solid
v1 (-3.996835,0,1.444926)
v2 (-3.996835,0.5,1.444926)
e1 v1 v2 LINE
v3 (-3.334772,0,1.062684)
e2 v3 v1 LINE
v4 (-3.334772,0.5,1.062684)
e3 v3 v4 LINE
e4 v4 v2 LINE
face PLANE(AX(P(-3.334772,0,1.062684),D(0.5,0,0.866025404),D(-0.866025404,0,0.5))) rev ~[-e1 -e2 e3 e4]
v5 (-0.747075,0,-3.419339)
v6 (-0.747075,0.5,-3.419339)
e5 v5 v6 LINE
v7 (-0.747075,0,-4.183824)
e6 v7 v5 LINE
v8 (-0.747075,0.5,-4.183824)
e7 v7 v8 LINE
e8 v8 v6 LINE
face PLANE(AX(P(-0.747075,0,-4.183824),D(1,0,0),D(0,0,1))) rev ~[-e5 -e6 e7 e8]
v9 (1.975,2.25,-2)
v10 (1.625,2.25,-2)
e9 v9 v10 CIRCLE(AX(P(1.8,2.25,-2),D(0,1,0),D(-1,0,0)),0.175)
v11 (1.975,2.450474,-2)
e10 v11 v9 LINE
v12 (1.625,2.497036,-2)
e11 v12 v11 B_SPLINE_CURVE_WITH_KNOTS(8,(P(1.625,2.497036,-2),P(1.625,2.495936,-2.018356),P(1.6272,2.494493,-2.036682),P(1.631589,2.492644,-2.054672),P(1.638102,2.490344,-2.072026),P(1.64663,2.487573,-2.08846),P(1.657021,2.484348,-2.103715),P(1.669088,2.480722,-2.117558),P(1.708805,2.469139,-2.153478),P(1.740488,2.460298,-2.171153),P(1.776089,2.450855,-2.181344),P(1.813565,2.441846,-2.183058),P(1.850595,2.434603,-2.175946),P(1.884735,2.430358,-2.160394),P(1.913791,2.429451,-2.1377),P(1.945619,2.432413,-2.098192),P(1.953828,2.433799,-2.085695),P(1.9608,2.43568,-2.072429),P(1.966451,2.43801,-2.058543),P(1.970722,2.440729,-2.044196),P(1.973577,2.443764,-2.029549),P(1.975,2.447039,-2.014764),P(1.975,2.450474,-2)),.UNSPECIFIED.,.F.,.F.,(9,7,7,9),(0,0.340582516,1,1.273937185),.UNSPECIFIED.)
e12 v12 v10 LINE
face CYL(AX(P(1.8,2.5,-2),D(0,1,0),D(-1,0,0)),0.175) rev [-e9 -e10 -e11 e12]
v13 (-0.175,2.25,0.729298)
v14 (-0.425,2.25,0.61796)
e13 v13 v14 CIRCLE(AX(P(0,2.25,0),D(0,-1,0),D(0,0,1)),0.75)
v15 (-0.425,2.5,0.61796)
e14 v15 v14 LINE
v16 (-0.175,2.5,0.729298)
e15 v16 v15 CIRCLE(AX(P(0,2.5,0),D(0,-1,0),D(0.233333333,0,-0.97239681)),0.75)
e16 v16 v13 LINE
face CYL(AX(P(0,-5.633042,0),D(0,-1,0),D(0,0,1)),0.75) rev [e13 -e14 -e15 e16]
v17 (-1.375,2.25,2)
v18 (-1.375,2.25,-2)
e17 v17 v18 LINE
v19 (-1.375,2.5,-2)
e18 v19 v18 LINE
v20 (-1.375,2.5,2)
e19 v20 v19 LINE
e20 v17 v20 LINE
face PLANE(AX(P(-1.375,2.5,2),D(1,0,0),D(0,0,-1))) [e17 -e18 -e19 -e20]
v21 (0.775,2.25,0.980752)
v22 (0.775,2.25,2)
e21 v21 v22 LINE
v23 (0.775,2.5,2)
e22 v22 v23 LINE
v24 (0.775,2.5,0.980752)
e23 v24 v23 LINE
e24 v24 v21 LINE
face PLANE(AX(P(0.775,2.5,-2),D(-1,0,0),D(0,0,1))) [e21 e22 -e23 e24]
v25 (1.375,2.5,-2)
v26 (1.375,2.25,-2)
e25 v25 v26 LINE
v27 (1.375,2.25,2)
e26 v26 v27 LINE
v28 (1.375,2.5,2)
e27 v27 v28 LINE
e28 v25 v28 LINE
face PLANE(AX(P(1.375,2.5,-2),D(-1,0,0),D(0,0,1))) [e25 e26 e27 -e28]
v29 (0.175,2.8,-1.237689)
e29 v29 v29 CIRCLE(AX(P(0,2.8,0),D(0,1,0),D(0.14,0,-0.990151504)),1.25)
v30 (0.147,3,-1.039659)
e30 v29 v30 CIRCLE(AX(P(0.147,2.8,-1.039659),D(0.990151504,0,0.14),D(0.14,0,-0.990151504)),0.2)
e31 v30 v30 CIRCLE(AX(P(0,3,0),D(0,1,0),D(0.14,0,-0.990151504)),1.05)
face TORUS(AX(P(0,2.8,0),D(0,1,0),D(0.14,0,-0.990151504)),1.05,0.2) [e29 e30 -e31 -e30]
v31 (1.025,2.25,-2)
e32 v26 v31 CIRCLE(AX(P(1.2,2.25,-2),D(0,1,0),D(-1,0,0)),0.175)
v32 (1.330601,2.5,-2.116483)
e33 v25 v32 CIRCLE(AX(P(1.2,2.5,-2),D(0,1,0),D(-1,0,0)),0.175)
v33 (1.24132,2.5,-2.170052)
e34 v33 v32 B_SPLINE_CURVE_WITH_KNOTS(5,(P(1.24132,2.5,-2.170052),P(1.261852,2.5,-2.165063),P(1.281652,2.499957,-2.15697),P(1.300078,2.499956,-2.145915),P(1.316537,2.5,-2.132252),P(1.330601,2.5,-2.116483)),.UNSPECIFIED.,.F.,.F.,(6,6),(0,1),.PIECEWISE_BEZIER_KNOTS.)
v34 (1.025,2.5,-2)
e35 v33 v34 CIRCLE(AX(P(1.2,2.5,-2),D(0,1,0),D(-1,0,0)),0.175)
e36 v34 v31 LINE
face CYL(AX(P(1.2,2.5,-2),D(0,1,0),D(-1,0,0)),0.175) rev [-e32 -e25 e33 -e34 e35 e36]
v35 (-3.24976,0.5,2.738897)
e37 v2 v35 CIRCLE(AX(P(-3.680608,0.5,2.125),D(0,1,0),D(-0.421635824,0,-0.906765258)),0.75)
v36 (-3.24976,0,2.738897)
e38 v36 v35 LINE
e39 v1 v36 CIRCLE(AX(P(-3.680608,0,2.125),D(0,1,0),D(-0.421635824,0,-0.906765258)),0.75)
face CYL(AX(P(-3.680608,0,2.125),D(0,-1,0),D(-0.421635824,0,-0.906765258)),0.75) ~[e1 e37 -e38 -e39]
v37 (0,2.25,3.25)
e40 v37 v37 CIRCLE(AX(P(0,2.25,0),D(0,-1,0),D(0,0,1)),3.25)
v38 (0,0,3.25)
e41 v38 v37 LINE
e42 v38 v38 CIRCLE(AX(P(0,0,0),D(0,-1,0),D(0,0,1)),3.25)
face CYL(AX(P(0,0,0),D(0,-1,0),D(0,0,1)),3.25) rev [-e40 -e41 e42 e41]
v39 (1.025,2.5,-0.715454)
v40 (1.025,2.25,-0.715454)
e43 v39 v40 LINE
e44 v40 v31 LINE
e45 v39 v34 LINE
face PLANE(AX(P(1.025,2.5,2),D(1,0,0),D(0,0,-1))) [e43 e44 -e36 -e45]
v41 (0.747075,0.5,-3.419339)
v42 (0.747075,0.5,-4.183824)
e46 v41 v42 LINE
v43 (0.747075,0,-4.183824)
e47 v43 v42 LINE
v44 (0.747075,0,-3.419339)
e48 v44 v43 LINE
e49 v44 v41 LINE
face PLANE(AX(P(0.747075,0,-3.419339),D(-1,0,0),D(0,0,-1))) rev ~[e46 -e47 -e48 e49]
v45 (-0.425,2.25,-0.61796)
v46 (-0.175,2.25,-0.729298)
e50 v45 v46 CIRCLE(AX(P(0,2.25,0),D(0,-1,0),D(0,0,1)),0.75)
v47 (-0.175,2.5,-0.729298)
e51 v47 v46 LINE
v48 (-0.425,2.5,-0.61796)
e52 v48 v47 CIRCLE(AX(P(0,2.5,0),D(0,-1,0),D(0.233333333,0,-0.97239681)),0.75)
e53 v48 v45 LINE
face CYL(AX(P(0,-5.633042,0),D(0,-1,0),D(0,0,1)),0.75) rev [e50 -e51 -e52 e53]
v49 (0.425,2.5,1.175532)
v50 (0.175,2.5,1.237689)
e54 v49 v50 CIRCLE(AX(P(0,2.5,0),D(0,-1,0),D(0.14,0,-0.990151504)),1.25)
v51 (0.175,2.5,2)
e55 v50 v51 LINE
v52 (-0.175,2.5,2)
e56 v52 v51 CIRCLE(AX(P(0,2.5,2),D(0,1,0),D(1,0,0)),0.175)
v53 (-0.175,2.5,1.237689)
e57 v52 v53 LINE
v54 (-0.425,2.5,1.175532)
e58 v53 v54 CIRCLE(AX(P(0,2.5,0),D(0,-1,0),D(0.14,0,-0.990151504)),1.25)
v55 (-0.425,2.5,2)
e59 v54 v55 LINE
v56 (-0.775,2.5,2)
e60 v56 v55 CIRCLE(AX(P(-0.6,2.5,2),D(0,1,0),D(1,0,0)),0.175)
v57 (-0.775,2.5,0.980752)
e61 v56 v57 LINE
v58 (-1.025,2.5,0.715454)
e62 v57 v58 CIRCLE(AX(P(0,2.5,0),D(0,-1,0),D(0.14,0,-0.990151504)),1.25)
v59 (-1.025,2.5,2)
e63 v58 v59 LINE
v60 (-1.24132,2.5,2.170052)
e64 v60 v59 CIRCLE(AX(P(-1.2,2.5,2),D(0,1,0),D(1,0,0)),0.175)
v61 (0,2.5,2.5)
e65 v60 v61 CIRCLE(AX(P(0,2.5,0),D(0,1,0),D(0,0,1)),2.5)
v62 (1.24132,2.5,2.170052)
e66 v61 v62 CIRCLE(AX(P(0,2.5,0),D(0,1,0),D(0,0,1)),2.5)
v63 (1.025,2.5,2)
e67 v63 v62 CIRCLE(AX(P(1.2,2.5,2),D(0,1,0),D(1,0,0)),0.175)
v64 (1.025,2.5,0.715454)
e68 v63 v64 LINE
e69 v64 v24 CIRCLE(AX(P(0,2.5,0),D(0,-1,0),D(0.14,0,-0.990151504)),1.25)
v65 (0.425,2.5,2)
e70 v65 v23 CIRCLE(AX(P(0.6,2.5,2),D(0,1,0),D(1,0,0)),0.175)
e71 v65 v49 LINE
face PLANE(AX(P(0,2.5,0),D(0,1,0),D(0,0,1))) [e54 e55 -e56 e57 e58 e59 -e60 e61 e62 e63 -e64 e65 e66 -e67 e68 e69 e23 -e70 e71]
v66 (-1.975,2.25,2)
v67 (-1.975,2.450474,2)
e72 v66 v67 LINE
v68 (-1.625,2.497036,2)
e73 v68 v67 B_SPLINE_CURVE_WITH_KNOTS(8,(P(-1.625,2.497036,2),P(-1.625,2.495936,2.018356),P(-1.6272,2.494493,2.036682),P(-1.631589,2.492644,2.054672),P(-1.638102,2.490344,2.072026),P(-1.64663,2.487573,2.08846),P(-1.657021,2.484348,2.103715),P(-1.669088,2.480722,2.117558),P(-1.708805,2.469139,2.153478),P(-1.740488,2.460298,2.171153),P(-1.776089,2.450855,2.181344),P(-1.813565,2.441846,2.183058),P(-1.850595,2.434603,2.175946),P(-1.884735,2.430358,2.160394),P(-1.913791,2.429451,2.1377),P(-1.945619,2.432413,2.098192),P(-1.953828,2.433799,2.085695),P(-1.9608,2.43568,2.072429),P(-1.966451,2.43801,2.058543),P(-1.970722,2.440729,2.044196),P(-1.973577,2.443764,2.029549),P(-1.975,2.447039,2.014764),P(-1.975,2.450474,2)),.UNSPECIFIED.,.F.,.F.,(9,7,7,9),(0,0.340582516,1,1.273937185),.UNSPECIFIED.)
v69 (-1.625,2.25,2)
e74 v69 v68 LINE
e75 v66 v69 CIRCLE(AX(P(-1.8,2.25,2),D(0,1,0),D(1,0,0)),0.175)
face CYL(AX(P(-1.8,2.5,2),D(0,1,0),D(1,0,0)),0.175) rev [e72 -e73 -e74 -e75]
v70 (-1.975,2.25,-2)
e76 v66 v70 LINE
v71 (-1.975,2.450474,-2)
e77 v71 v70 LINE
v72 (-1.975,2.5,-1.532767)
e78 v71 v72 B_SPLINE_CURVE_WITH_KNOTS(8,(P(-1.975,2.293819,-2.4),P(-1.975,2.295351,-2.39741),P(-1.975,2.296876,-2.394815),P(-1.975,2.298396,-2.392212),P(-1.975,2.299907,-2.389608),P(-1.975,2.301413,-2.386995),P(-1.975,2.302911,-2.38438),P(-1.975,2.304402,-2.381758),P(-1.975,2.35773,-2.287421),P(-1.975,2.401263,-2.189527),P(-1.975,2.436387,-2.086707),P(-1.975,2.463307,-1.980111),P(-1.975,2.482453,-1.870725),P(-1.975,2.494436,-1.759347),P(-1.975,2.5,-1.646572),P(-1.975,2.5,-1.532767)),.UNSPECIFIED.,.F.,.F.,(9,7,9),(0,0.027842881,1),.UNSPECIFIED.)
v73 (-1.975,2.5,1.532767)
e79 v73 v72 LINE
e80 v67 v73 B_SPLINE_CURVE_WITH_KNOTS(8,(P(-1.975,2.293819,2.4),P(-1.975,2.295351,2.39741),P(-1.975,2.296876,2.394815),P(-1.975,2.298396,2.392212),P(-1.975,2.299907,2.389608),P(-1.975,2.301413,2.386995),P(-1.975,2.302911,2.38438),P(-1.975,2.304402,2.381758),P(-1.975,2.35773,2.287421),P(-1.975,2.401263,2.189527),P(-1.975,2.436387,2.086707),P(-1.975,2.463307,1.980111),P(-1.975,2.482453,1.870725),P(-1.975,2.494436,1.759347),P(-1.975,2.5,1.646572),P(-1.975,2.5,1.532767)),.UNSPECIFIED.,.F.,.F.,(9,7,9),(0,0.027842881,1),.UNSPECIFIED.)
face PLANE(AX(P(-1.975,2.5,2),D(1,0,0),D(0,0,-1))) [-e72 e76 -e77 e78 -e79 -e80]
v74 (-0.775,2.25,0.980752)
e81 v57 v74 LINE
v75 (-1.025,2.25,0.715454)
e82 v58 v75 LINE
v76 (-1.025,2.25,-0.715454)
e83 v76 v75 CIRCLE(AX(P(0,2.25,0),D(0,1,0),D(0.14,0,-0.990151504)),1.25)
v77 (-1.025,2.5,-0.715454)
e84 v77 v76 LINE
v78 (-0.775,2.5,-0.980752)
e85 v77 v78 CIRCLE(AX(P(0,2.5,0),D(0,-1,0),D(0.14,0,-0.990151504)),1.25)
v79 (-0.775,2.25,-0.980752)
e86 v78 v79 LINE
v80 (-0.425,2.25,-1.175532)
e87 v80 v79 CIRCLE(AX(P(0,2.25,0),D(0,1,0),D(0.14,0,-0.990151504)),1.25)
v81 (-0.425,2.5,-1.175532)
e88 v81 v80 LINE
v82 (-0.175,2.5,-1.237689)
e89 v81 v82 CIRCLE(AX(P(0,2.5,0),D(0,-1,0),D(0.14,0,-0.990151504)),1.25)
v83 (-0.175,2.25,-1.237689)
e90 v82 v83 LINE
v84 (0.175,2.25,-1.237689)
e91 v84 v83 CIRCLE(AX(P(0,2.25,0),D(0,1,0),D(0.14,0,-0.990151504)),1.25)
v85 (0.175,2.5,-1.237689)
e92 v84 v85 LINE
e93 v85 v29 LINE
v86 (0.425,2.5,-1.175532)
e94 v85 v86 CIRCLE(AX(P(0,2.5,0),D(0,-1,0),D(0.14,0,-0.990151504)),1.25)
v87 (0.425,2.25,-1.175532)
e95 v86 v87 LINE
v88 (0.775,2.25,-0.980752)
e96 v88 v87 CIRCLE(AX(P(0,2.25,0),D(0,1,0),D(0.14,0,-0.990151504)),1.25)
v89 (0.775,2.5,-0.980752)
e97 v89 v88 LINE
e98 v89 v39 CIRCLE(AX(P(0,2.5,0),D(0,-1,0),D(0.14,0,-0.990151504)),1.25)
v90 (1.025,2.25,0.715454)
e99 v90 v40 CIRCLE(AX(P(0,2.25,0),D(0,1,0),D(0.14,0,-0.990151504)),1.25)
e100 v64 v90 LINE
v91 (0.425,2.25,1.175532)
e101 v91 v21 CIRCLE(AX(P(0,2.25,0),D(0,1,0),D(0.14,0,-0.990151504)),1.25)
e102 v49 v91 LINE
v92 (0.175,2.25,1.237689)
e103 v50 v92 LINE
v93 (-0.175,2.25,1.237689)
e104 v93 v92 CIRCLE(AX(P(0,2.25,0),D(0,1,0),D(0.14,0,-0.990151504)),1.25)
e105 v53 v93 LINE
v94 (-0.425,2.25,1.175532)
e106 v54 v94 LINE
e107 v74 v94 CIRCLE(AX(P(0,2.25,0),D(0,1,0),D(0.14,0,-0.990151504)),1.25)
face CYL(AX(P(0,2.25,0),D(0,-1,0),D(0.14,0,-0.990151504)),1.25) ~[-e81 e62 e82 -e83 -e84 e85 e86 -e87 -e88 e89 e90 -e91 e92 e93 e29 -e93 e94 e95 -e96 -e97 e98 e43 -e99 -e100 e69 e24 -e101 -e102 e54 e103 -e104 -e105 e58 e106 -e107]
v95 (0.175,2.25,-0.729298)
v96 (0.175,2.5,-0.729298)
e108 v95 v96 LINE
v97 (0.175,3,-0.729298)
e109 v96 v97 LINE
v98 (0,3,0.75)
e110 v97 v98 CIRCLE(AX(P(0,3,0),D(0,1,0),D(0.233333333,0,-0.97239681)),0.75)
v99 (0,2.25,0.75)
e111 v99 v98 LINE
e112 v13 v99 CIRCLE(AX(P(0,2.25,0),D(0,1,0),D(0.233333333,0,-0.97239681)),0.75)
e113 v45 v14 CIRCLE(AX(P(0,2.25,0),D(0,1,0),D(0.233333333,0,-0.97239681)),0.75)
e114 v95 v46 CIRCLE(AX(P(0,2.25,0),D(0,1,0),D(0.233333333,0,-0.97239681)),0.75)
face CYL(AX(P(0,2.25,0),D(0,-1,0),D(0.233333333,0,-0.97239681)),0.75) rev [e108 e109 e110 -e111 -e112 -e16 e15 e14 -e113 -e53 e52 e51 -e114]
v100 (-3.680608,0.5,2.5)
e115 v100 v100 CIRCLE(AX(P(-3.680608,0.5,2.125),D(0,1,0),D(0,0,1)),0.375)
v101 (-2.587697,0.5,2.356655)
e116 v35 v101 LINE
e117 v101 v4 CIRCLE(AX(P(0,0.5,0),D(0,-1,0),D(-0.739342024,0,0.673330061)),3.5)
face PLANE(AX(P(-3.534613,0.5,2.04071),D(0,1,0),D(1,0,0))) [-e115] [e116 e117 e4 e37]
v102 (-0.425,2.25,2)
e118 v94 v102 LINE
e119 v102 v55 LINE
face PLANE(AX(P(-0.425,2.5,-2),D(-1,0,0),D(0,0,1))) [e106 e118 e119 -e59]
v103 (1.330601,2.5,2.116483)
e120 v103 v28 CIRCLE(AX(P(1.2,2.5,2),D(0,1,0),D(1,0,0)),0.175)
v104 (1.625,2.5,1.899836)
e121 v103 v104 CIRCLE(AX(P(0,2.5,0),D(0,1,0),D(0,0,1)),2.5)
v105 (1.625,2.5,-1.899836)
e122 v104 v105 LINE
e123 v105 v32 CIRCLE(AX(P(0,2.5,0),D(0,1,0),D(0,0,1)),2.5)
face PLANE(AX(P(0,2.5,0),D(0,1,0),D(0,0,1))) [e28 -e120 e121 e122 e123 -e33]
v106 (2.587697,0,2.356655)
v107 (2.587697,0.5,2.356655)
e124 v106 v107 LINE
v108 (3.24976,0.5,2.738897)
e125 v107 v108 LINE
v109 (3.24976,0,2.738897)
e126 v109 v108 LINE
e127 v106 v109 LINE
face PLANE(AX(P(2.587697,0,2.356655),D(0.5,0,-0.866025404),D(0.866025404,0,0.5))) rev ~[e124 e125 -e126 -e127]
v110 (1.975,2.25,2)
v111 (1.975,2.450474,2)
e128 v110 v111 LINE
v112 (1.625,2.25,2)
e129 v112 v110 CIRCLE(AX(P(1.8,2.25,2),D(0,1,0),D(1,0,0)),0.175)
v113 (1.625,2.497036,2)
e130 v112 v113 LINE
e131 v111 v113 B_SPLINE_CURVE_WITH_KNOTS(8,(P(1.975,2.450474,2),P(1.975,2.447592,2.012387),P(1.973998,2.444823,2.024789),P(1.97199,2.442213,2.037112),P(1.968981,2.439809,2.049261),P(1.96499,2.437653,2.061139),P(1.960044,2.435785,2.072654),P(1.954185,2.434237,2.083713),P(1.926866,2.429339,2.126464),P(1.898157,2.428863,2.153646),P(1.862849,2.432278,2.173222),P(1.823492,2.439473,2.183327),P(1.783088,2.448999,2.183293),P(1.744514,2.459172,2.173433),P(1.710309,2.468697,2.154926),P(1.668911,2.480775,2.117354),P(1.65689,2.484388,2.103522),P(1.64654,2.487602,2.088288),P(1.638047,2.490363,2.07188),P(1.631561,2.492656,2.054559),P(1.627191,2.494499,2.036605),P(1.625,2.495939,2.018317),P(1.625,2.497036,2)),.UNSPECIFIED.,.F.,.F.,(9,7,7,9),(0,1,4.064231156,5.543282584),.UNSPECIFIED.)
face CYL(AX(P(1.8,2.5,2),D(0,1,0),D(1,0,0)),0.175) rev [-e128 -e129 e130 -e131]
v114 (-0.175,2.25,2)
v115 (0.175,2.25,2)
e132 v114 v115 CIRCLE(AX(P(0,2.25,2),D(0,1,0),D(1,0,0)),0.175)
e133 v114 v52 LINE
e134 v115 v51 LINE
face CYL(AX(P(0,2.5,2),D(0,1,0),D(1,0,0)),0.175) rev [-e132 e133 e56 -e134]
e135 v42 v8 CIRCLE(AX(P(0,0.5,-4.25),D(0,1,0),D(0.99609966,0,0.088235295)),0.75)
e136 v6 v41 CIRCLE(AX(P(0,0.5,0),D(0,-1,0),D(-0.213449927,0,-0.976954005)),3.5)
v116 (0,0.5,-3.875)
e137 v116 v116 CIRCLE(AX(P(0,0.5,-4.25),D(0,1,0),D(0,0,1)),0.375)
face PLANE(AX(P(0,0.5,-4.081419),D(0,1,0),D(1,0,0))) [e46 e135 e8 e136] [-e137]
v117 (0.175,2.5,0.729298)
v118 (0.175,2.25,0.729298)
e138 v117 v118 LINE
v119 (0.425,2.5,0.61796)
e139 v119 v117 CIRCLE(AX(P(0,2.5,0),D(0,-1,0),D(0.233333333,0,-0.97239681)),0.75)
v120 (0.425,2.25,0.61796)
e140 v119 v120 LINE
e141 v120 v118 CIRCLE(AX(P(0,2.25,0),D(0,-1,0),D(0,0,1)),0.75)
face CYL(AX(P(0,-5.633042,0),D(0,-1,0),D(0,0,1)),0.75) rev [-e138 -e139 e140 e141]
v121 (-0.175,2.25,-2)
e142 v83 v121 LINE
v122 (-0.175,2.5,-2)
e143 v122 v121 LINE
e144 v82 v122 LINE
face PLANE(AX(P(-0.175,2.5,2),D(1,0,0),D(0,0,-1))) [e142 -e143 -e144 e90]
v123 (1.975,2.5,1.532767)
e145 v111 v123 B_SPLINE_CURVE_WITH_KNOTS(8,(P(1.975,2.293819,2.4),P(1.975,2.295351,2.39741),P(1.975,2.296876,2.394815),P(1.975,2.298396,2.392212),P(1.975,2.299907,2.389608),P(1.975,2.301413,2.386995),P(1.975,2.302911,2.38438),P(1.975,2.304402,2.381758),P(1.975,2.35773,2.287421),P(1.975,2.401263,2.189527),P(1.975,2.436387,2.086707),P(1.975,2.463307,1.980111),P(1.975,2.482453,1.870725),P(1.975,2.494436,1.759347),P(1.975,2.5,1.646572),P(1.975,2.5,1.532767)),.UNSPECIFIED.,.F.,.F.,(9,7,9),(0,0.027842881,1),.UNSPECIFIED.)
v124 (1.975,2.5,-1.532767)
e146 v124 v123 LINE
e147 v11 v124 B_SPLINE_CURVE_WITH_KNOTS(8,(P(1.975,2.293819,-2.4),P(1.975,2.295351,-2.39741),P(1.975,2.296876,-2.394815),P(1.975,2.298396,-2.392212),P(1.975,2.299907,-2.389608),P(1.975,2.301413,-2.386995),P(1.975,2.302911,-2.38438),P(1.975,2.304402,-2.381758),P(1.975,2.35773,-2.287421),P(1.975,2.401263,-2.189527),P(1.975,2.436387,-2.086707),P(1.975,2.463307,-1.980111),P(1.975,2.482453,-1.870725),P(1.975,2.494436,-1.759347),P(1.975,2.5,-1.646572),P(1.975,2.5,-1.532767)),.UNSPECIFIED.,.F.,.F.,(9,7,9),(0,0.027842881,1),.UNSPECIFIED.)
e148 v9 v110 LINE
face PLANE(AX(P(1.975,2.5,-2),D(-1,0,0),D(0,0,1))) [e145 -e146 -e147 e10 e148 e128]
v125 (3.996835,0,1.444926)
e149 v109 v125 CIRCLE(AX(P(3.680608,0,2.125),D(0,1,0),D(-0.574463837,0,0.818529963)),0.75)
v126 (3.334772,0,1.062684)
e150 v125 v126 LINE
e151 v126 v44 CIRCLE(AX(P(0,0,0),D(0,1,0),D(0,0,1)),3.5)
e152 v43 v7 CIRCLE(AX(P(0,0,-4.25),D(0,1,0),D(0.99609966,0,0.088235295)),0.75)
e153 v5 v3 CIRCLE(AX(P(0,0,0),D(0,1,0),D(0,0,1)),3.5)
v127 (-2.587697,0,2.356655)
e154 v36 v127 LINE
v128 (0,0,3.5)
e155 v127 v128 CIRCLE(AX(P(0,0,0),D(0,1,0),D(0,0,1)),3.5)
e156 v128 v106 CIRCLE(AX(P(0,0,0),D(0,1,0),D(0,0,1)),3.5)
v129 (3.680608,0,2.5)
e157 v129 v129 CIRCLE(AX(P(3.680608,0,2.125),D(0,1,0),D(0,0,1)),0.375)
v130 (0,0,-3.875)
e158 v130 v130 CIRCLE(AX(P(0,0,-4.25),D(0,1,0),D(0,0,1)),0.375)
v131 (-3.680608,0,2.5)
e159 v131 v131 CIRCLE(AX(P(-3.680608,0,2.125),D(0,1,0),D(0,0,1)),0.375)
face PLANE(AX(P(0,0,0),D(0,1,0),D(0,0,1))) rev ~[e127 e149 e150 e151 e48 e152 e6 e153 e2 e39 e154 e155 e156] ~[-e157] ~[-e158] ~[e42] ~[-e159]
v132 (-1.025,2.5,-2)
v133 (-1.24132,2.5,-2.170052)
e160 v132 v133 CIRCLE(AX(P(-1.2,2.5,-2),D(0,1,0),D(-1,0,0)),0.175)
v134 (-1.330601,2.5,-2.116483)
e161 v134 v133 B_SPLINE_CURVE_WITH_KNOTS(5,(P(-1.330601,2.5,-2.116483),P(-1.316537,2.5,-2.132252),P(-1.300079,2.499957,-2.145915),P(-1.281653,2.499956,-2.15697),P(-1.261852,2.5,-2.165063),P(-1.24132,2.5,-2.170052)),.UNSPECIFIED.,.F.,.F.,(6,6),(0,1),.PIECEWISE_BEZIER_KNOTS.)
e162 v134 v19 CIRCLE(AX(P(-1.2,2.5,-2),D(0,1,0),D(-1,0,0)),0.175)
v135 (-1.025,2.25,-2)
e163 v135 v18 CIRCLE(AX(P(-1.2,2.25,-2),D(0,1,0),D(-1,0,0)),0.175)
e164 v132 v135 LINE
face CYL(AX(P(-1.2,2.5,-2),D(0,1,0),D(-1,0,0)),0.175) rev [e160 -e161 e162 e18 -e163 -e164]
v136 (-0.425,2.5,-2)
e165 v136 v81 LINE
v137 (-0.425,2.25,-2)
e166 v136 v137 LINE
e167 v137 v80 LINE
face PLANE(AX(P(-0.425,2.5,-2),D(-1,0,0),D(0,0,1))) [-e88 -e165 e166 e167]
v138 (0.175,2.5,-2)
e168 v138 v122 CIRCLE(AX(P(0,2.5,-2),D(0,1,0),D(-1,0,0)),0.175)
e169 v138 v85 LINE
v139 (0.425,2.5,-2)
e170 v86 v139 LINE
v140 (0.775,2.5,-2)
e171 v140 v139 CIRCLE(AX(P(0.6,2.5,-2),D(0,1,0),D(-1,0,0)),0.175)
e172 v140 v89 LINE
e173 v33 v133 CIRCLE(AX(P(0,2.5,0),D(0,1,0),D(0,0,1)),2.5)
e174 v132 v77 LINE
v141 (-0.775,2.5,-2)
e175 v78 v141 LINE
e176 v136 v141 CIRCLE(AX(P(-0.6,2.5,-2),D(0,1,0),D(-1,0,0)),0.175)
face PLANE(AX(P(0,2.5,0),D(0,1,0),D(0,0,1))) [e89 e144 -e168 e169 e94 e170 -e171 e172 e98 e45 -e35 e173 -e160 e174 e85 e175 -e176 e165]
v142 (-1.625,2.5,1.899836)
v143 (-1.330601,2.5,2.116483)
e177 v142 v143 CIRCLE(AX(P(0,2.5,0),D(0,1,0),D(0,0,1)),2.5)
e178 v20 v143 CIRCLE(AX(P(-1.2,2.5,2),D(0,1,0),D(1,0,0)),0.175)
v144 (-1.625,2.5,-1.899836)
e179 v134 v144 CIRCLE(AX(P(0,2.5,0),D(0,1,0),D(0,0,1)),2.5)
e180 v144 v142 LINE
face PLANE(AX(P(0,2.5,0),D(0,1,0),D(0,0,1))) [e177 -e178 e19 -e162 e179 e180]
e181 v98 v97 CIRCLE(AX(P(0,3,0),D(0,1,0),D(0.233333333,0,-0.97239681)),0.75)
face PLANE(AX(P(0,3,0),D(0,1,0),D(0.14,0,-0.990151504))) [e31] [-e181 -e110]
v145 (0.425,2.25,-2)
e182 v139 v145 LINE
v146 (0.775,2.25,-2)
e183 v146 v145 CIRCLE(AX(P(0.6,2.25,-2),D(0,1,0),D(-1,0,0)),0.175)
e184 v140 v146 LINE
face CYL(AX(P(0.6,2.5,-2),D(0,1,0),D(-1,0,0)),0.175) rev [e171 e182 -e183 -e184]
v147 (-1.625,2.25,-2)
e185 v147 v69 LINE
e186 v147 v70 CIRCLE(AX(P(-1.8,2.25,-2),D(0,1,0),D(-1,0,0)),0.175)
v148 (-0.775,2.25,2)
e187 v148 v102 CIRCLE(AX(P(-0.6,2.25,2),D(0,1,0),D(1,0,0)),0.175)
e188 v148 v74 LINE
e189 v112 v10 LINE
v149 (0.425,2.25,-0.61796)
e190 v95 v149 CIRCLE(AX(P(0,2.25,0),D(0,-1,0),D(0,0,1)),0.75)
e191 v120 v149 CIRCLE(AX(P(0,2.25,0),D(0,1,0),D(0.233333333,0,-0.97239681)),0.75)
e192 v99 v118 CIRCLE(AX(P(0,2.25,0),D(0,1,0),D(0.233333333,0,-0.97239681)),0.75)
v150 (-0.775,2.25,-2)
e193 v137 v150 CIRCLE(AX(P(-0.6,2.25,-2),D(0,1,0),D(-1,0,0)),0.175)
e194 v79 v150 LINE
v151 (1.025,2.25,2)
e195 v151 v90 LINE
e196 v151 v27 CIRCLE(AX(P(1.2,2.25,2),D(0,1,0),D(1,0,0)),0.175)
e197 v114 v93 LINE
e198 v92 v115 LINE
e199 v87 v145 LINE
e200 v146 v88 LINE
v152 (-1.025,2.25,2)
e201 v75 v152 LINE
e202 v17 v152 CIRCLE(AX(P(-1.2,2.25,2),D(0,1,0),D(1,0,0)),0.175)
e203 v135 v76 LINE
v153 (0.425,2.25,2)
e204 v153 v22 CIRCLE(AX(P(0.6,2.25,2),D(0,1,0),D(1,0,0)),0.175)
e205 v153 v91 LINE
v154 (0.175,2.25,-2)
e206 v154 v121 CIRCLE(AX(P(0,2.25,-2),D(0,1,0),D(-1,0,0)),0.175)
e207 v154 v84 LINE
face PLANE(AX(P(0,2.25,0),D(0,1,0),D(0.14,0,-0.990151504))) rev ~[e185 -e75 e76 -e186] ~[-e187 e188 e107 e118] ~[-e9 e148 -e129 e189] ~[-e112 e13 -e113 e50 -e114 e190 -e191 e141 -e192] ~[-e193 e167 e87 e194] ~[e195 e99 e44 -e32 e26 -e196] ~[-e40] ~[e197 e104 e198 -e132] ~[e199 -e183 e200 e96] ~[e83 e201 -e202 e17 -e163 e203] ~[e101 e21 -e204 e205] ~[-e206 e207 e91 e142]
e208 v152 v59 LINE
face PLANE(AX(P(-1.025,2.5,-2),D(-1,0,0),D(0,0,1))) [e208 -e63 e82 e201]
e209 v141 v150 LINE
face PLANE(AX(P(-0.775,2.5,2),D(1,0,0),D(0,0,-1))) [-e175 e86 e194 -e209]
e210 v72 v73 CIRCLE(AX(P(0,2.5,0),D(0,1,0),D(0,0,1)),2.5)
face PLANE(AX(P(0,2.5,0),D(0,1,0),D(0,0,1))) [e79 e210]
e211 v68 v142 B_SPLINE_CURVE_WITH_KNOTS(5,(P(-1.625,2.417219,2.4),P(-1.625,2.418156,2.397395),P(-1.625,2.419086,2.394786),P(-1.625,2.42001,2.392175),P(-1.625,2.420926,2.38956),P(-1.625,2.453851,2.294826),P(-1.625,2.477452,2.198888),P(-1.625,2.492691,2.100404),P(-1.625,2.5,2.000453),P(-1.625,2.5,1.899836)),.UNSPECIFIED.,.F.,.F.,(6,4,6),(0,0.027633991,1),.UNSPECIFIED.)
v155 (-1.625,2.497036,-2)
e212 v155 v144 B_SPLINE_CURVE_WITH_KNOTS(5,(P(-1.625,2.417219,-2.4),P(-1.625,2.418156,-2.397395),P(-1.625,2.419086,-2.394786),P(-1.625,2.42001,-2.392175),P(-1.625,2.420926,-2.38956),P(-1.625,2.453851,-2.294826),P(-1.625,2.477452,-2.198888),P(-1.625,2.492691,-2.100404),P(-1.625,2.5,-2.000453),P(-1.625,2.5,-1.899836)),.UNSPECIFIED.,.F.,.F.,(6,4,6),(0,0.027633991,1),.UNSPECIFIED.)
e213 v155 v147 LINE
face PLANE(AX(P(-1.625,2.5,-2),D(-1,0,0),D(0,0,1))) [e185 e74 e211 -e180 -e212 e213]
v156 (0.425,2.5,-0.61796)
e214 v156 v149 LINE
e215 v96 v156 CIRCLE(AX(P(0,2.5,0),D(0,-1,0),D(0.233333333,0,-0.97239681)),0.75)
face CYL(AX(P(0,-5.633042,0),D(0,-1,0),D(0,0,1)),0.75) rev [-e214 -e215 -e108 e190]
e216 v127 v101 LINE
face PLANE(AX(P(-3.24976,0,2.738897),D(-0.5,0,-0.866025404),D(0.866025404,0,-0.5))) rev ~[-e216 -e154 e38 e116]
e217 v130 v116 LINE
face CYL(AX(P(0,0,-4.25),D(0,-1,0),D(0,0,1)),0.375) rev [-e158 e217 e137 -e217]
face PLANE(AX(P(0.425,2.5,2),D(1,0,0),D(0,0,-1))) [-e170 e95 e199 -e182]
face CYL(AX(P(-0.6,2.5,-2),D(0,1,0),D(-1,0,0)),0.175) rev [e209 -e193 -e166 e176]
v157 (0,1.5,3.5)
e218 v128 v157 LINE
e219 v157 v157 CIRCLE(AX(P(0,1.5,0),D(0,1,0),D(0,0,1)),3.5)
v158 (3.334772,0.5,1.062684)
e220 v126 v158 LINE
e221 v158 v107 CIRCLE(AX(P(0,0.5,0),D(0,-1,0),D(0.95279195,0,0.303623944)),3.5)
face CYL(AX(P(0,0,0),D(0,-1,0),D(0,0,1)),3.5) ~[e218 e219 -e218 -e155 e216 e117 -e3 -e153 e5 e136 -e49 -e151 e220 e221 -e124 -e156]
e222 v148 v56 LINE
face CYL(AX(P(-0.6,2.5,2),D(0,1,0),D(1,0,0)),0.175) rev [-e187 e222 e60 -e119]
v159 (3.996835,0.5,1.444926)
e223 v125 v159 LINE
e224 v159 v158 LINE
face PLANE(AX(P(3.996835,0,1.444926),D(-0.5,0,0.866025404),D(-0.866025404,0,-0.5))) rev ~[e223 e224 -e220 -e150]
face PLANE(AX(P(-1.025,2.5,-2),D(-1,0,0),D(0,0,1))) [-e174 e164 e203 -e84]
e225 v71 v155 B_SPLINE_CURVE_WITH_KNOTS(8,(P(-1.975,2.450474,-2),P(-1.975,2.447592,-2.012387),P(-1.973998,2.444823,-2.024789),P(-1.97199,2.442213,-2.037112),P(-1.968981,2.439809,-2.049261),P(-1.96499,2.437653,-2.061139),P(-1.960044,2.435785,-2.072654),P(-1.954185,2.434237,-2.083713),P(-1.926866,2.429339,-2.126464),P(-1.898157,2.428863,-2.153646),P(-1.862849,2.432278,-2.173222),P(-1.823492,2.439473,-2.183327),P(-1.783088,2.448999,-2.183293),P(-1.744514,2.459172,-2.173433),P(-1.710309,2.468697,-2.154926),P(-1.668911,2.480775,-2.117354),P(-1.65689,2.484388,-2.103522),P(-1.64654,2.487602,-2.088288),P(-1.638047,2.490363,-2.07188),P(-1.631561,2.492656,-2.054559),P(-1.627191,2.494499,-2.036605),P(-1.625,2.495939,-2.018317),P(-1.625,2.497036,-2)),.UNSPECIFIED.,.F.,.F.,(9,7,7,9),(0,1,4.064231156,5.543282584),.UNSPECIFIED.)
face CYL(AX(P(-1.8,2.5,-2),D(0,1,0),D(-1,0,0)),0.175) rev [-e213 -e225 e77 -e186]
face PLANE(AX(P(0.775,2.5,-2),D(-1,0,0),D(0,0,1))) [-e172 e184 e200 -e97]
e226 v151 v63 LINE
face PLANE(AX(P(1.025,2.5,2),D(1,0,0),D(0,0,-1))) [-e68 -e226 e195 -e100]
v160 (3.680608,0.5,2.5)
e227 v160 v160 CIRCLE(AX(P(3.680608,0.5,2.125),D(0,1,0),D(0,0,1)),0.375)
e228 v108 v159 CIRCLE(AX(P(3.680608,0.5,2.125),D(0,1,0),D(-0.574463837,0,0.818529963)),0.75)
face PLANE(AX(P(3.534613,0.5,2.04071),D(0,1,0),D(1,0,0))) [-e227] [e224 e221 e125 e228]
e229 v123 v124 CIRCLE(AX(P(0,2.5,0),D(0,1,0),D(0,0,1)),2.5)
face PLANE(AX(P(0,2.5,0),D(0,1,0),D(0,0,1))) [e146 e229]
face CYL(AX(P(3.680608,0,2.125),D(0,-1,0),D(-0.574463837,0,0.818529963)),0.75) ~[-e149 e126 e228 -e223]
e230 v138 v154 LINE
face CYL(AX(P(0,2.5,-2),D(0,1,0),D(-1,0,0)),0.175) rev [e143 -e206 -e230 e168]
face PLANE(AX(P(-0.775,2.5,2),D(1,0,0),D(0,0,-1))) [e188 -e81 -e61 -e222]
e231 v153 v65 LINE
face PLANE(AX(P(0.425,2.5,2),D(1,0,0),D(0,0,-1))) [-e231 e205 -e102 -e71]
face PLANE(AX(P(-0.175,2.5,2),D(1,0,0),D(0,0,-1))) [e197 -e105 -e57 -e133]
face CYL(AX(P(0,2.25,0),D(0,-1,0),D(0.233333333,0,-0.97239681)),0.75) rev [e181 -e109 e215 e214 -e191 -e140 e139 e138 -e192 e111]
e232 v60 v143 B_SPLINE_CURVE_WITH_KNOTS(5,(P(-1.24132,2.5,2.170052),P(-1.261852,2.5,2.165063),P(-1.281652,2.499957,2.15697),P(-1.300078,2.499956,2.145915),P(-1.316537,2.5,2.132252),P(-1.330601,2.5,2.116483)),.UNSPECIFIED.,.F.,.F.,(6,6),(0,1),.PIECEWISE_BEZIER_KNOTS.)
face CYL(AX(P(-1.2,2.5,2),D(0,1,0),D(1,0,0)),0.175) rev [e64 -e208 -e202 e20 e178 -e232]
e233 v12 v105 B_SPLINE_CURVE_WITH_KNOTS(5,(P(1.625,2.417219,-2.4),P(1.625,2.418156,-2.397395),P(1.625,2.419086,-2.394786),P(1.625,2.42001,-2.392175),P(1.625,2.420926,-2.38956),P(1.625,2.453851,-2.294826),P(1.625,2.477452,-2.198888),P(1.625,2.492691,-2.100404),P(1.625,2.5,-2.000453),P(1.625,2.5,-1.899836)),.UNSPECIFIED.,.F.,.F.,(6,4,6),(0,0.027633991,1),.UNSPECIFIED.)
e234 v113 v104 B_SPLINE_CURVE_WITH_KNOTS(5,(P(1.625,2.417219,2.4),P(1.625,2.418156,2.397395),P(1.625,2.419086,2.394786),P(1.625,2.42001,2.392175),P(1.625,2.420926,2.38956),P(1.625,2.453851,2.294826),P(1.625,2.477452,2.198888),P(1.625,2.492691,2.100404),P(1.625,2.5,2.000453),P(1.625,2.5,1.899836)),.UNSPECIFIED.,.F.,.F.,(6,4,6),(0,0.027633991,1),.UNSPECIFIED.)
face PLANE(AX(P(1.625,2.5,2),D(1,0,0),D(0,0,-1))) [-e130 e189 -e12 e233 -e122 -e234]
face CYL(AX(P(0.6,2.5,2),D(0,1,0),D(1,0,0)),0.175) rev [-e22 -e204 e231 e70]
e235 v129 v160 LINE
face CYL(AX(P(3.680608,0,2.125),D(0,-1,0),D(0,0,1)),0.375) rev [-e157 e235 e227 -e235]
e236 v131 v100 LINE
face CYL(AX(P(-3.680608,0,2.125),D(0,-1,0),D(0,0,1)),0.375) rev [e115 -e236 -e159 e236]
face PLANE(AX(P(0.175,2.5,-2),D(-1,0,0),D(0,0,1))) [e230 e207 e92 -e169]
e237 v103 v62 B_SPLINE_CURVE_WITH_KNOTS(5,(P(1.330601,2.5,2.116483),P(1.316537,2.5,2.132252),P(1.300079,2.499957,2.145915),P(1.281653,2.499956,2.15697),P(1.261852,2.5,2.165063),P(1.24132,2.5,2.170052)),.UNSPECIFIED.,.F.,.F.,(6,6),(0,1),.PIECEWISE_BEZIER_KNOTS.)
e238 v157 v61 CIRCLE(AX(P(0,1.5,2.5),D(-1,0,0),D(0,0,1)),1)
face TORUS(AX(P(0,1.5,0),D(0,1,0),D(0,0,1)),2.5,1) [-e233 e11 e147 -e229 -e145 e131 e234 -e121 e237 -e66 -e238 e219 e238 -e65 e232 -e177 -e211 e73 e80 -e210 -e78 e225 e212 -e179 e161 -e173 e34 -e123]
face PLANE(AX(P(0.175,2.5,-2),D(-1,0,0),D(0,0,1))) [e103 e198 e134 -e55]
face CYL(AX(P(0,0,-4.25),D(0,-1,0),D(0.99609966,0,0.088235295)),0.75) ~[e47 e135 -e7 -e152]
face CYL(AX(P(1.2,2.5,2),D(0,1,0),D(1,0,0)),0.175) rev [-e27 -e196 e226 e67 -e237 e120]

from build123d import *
from build123d.topology import SkipClean

# Parameters (mm, degrees)
SKETCH1_R               = 3.5
BOSS_EXTRUDE1_DEPTH     = 2.5
SHELL1_T                = -0.25
SKETCH1_3_R             = 0.375
BOSS_EXTRUDE2_DEPTH     = 0.5
FILLET2_R               = 1
CUT_EXTRUDE1_DEPTH      = 8.133041914
LPATTERN3_COUNT         = 7
LPATTERN3_PITCH         = 0.6
BOSS_EXTRUDE3_START     = -0.25
SKETCH4_R               = 1.25
SKETCH4_R_2             = 0.75
BOSS_EXTRUDE3_DEPTH     = 0.75
FILLET3_R               = 0.2
CUT_EXTRUDE2_DEPTH      = 8.133041914
CUT_EXTRUDE2_DEPTH_BACK = 8.133041914
SKETCH4_2_R             = 0.75


with BuildPart() as part:
    # Sketch1 → Boss-Extrude1 (new body)
    with BuildSketch(Plane(origin=(0, 0, 0), x_dir=(1, 0, 0), z_dir=(0, 1, 0))):
        with Locations(Location((0, 0, 0), (0, 0, 270))):
            Circle(SKETCH1_R)
    extrude(amount=BOSS_EXTRUDE1_DEPTH)

    # Shell1
    shell1_openings = [part.faces().sort_by_distance(p)[0] for p in [
        (0, 0, 0),
    ]]
    offset(amount=SHELL1_T, openings=shell1_openings, kind=Kind.INTERSECTION)

    # Sketch1<3> → Boss-Extrude2 (add)
    # profile 1 of 3: a face of its own
    with BuildSketch(Plane(origin=(0, 0, 0), x_dir=(1, 0, 0), z_dir=(0, 1, 0))):
        with BuildLine():
            Line((3.996834834, -1.444926057), (3.334771827, -1.062683802))
            ThreePointArc((3.334771827, -1.062683802), (3.031088913, -1.75), (2.587697082, -2.356655217))
            Line((2.587697082, -2.356655217), (3.249760089, -2.738897472))
            ThreePointArc((3.249760089, -2.738897472), (4.330127019, -2.5), (3.996834834, -1.444926057))
        make_face()
        with Locations(Location((3.680607966, -2.125, 0), (0, 0, 270))):
            Circle(SKETCH1_3_R, mode=Mode.SUBTRACT)
    # profile 2 of 3: a face of its own
    with BuildSketch(Plane(origin=(0, 0, 0), x_dir=(1, 0, 0), z_dir=(0, 1, 0))):
        with BuildLine():
            ThreePointArc((-0.747074745, 3.419339019), (0, 3.5), (0.747074745, 3.419339019))
            Line((0.747074745, 3.419339019), (0.747074745, 4.183823529))
            ThreePointArc((0.747074745, 4.183823529), (0, 5), (-0.747074745, 4.183823529))
            Line((-0.747074745, 4.183823529), (-0.747074745, 3.419339019))
        make_face()
        with Locations(Location((0, 4.25, 0), (0, 0, 270))):
            Circle(SKETCH1_3_R, mode=Mode.SUBTRACT)
    # profile 3 of 3: a face of its own
    with BuildSketch(Plane(origin=(0, 0, 0), x_dir=(1, 0, 0), z_dir=(0, 1, 0))):
        with BuildLine():
            ThreePointArc((-2.587697082, -2.356655217), (-3.031088913, -1.75), (-3.334771827, -1.062683802))
            Line((-3.334771827, -1.062683802), (-3.996834834, -1.444926057))
            ThreePointArc((-3.996834834, -1.444926057), (-4.330127019, -2.5), (-3.249760089, -2.738897472))
            Line((-3.249760089, -2.738897472), (-2.587697082, -2.356655217))
        make_face()
        with Locations(Location((-3.680607966, -2.125, 0), (0, 0, 270))):
            Circle(SKETCH1_3_R, mode=Mode.SUBTRACT)
    extrude(amount=BOSS_EXTRUDE2_DEPTH)

    # Fillet2
    fillet2_edges = [part.edges().sort_by_distance(p)[0] for p in [
        (0, 2.5, -3.5),
    ]]
    fillet(fillet2_edges, radius=FILLET2_R)

    # Sketch3 → Cut-Extrude1 (cut, symmetric)
    with BuildSketch(Plane(origin=(0, 2.5, 0), x_dir=(1, 0, 0), z_dir=(0, 1, 0))):
        with BuildLine():
            Line((1.625, -2), (1.625, 2))
            ThreePointArc((1.625, 2), (1.8, 2.175), (1.975, 2))
            Line((1.975, 2), (1.975, -2))
            ThreePointArc((1.975, -2), (1.8, -2.175), (1.625, -2))
        make_face()
    cut_extrude1 = extrude(amount=CUT_EXTRUDE1_DEPTH, both=True, mode=Mode.SUBTRACT)

    # LPattern3: Cut-Extrude1 ×7
    with Locations(*[(-i * LPATTERN3_PITCH, 0, 0) for i in range(1, LPATTERN3_COUNT)]):
        add(cut_extrude1, mode=Mode.SUBTRACT)

    # Sketch4 → Boss-Extrude3 (add)
    with BuildSketch(Plane(origin=(0, 2.5, 0), x_dir=(1, 0, 0), z_dir=(0, 1, 0)).offset(BOSS_EXTRUDE3_START)):
        with Locations(Location((0, 0, 0), (0, 0, 81.952153753))):
            Circle(SKETCH4_R)
        with Locations(Location((0, 0, 0), (0, 0, 76.506601178))):
            Circle(SKETCH4_R_2, mode=Mode.SUBTRACT)
    extrude(amount=BOSS_EXTRUDE3_DEPTH)

    # Fillet3
    fillet3_edges = [part.edges().sort_by_distance(p)[0] for p in [
        (-0.175, 3, 1.237689379),
    ]]
    fillet(fillet3_edges, radius=FILLET3_R)

    # Sketch4<2> → Cut-Extrude2 (cut, two sides: drawn at the far end of the back side and taken through both)
    with SkipClean():  # the faces are left unmerged after this step: merging them gives an invalid solid
        with BuildSketch(Plane(origin=(0, 2.5, 0), x_dir=(1, 0, 0), z_dir=(0, 1, 0)).offset(-CUT_EXTRUDE2_DEPTH_BACK)):
            with Locations(Location((0, 0, 0), (0, 0, 270))):
                Circle(SKETCH4_2_R)
        extrude(amount=CUT_EXTRUDE2_DEPTH + CUT_EXTRUDE2_DEPTH_BACK, mode=Mode.SUBTRACT)


solid = part.part
